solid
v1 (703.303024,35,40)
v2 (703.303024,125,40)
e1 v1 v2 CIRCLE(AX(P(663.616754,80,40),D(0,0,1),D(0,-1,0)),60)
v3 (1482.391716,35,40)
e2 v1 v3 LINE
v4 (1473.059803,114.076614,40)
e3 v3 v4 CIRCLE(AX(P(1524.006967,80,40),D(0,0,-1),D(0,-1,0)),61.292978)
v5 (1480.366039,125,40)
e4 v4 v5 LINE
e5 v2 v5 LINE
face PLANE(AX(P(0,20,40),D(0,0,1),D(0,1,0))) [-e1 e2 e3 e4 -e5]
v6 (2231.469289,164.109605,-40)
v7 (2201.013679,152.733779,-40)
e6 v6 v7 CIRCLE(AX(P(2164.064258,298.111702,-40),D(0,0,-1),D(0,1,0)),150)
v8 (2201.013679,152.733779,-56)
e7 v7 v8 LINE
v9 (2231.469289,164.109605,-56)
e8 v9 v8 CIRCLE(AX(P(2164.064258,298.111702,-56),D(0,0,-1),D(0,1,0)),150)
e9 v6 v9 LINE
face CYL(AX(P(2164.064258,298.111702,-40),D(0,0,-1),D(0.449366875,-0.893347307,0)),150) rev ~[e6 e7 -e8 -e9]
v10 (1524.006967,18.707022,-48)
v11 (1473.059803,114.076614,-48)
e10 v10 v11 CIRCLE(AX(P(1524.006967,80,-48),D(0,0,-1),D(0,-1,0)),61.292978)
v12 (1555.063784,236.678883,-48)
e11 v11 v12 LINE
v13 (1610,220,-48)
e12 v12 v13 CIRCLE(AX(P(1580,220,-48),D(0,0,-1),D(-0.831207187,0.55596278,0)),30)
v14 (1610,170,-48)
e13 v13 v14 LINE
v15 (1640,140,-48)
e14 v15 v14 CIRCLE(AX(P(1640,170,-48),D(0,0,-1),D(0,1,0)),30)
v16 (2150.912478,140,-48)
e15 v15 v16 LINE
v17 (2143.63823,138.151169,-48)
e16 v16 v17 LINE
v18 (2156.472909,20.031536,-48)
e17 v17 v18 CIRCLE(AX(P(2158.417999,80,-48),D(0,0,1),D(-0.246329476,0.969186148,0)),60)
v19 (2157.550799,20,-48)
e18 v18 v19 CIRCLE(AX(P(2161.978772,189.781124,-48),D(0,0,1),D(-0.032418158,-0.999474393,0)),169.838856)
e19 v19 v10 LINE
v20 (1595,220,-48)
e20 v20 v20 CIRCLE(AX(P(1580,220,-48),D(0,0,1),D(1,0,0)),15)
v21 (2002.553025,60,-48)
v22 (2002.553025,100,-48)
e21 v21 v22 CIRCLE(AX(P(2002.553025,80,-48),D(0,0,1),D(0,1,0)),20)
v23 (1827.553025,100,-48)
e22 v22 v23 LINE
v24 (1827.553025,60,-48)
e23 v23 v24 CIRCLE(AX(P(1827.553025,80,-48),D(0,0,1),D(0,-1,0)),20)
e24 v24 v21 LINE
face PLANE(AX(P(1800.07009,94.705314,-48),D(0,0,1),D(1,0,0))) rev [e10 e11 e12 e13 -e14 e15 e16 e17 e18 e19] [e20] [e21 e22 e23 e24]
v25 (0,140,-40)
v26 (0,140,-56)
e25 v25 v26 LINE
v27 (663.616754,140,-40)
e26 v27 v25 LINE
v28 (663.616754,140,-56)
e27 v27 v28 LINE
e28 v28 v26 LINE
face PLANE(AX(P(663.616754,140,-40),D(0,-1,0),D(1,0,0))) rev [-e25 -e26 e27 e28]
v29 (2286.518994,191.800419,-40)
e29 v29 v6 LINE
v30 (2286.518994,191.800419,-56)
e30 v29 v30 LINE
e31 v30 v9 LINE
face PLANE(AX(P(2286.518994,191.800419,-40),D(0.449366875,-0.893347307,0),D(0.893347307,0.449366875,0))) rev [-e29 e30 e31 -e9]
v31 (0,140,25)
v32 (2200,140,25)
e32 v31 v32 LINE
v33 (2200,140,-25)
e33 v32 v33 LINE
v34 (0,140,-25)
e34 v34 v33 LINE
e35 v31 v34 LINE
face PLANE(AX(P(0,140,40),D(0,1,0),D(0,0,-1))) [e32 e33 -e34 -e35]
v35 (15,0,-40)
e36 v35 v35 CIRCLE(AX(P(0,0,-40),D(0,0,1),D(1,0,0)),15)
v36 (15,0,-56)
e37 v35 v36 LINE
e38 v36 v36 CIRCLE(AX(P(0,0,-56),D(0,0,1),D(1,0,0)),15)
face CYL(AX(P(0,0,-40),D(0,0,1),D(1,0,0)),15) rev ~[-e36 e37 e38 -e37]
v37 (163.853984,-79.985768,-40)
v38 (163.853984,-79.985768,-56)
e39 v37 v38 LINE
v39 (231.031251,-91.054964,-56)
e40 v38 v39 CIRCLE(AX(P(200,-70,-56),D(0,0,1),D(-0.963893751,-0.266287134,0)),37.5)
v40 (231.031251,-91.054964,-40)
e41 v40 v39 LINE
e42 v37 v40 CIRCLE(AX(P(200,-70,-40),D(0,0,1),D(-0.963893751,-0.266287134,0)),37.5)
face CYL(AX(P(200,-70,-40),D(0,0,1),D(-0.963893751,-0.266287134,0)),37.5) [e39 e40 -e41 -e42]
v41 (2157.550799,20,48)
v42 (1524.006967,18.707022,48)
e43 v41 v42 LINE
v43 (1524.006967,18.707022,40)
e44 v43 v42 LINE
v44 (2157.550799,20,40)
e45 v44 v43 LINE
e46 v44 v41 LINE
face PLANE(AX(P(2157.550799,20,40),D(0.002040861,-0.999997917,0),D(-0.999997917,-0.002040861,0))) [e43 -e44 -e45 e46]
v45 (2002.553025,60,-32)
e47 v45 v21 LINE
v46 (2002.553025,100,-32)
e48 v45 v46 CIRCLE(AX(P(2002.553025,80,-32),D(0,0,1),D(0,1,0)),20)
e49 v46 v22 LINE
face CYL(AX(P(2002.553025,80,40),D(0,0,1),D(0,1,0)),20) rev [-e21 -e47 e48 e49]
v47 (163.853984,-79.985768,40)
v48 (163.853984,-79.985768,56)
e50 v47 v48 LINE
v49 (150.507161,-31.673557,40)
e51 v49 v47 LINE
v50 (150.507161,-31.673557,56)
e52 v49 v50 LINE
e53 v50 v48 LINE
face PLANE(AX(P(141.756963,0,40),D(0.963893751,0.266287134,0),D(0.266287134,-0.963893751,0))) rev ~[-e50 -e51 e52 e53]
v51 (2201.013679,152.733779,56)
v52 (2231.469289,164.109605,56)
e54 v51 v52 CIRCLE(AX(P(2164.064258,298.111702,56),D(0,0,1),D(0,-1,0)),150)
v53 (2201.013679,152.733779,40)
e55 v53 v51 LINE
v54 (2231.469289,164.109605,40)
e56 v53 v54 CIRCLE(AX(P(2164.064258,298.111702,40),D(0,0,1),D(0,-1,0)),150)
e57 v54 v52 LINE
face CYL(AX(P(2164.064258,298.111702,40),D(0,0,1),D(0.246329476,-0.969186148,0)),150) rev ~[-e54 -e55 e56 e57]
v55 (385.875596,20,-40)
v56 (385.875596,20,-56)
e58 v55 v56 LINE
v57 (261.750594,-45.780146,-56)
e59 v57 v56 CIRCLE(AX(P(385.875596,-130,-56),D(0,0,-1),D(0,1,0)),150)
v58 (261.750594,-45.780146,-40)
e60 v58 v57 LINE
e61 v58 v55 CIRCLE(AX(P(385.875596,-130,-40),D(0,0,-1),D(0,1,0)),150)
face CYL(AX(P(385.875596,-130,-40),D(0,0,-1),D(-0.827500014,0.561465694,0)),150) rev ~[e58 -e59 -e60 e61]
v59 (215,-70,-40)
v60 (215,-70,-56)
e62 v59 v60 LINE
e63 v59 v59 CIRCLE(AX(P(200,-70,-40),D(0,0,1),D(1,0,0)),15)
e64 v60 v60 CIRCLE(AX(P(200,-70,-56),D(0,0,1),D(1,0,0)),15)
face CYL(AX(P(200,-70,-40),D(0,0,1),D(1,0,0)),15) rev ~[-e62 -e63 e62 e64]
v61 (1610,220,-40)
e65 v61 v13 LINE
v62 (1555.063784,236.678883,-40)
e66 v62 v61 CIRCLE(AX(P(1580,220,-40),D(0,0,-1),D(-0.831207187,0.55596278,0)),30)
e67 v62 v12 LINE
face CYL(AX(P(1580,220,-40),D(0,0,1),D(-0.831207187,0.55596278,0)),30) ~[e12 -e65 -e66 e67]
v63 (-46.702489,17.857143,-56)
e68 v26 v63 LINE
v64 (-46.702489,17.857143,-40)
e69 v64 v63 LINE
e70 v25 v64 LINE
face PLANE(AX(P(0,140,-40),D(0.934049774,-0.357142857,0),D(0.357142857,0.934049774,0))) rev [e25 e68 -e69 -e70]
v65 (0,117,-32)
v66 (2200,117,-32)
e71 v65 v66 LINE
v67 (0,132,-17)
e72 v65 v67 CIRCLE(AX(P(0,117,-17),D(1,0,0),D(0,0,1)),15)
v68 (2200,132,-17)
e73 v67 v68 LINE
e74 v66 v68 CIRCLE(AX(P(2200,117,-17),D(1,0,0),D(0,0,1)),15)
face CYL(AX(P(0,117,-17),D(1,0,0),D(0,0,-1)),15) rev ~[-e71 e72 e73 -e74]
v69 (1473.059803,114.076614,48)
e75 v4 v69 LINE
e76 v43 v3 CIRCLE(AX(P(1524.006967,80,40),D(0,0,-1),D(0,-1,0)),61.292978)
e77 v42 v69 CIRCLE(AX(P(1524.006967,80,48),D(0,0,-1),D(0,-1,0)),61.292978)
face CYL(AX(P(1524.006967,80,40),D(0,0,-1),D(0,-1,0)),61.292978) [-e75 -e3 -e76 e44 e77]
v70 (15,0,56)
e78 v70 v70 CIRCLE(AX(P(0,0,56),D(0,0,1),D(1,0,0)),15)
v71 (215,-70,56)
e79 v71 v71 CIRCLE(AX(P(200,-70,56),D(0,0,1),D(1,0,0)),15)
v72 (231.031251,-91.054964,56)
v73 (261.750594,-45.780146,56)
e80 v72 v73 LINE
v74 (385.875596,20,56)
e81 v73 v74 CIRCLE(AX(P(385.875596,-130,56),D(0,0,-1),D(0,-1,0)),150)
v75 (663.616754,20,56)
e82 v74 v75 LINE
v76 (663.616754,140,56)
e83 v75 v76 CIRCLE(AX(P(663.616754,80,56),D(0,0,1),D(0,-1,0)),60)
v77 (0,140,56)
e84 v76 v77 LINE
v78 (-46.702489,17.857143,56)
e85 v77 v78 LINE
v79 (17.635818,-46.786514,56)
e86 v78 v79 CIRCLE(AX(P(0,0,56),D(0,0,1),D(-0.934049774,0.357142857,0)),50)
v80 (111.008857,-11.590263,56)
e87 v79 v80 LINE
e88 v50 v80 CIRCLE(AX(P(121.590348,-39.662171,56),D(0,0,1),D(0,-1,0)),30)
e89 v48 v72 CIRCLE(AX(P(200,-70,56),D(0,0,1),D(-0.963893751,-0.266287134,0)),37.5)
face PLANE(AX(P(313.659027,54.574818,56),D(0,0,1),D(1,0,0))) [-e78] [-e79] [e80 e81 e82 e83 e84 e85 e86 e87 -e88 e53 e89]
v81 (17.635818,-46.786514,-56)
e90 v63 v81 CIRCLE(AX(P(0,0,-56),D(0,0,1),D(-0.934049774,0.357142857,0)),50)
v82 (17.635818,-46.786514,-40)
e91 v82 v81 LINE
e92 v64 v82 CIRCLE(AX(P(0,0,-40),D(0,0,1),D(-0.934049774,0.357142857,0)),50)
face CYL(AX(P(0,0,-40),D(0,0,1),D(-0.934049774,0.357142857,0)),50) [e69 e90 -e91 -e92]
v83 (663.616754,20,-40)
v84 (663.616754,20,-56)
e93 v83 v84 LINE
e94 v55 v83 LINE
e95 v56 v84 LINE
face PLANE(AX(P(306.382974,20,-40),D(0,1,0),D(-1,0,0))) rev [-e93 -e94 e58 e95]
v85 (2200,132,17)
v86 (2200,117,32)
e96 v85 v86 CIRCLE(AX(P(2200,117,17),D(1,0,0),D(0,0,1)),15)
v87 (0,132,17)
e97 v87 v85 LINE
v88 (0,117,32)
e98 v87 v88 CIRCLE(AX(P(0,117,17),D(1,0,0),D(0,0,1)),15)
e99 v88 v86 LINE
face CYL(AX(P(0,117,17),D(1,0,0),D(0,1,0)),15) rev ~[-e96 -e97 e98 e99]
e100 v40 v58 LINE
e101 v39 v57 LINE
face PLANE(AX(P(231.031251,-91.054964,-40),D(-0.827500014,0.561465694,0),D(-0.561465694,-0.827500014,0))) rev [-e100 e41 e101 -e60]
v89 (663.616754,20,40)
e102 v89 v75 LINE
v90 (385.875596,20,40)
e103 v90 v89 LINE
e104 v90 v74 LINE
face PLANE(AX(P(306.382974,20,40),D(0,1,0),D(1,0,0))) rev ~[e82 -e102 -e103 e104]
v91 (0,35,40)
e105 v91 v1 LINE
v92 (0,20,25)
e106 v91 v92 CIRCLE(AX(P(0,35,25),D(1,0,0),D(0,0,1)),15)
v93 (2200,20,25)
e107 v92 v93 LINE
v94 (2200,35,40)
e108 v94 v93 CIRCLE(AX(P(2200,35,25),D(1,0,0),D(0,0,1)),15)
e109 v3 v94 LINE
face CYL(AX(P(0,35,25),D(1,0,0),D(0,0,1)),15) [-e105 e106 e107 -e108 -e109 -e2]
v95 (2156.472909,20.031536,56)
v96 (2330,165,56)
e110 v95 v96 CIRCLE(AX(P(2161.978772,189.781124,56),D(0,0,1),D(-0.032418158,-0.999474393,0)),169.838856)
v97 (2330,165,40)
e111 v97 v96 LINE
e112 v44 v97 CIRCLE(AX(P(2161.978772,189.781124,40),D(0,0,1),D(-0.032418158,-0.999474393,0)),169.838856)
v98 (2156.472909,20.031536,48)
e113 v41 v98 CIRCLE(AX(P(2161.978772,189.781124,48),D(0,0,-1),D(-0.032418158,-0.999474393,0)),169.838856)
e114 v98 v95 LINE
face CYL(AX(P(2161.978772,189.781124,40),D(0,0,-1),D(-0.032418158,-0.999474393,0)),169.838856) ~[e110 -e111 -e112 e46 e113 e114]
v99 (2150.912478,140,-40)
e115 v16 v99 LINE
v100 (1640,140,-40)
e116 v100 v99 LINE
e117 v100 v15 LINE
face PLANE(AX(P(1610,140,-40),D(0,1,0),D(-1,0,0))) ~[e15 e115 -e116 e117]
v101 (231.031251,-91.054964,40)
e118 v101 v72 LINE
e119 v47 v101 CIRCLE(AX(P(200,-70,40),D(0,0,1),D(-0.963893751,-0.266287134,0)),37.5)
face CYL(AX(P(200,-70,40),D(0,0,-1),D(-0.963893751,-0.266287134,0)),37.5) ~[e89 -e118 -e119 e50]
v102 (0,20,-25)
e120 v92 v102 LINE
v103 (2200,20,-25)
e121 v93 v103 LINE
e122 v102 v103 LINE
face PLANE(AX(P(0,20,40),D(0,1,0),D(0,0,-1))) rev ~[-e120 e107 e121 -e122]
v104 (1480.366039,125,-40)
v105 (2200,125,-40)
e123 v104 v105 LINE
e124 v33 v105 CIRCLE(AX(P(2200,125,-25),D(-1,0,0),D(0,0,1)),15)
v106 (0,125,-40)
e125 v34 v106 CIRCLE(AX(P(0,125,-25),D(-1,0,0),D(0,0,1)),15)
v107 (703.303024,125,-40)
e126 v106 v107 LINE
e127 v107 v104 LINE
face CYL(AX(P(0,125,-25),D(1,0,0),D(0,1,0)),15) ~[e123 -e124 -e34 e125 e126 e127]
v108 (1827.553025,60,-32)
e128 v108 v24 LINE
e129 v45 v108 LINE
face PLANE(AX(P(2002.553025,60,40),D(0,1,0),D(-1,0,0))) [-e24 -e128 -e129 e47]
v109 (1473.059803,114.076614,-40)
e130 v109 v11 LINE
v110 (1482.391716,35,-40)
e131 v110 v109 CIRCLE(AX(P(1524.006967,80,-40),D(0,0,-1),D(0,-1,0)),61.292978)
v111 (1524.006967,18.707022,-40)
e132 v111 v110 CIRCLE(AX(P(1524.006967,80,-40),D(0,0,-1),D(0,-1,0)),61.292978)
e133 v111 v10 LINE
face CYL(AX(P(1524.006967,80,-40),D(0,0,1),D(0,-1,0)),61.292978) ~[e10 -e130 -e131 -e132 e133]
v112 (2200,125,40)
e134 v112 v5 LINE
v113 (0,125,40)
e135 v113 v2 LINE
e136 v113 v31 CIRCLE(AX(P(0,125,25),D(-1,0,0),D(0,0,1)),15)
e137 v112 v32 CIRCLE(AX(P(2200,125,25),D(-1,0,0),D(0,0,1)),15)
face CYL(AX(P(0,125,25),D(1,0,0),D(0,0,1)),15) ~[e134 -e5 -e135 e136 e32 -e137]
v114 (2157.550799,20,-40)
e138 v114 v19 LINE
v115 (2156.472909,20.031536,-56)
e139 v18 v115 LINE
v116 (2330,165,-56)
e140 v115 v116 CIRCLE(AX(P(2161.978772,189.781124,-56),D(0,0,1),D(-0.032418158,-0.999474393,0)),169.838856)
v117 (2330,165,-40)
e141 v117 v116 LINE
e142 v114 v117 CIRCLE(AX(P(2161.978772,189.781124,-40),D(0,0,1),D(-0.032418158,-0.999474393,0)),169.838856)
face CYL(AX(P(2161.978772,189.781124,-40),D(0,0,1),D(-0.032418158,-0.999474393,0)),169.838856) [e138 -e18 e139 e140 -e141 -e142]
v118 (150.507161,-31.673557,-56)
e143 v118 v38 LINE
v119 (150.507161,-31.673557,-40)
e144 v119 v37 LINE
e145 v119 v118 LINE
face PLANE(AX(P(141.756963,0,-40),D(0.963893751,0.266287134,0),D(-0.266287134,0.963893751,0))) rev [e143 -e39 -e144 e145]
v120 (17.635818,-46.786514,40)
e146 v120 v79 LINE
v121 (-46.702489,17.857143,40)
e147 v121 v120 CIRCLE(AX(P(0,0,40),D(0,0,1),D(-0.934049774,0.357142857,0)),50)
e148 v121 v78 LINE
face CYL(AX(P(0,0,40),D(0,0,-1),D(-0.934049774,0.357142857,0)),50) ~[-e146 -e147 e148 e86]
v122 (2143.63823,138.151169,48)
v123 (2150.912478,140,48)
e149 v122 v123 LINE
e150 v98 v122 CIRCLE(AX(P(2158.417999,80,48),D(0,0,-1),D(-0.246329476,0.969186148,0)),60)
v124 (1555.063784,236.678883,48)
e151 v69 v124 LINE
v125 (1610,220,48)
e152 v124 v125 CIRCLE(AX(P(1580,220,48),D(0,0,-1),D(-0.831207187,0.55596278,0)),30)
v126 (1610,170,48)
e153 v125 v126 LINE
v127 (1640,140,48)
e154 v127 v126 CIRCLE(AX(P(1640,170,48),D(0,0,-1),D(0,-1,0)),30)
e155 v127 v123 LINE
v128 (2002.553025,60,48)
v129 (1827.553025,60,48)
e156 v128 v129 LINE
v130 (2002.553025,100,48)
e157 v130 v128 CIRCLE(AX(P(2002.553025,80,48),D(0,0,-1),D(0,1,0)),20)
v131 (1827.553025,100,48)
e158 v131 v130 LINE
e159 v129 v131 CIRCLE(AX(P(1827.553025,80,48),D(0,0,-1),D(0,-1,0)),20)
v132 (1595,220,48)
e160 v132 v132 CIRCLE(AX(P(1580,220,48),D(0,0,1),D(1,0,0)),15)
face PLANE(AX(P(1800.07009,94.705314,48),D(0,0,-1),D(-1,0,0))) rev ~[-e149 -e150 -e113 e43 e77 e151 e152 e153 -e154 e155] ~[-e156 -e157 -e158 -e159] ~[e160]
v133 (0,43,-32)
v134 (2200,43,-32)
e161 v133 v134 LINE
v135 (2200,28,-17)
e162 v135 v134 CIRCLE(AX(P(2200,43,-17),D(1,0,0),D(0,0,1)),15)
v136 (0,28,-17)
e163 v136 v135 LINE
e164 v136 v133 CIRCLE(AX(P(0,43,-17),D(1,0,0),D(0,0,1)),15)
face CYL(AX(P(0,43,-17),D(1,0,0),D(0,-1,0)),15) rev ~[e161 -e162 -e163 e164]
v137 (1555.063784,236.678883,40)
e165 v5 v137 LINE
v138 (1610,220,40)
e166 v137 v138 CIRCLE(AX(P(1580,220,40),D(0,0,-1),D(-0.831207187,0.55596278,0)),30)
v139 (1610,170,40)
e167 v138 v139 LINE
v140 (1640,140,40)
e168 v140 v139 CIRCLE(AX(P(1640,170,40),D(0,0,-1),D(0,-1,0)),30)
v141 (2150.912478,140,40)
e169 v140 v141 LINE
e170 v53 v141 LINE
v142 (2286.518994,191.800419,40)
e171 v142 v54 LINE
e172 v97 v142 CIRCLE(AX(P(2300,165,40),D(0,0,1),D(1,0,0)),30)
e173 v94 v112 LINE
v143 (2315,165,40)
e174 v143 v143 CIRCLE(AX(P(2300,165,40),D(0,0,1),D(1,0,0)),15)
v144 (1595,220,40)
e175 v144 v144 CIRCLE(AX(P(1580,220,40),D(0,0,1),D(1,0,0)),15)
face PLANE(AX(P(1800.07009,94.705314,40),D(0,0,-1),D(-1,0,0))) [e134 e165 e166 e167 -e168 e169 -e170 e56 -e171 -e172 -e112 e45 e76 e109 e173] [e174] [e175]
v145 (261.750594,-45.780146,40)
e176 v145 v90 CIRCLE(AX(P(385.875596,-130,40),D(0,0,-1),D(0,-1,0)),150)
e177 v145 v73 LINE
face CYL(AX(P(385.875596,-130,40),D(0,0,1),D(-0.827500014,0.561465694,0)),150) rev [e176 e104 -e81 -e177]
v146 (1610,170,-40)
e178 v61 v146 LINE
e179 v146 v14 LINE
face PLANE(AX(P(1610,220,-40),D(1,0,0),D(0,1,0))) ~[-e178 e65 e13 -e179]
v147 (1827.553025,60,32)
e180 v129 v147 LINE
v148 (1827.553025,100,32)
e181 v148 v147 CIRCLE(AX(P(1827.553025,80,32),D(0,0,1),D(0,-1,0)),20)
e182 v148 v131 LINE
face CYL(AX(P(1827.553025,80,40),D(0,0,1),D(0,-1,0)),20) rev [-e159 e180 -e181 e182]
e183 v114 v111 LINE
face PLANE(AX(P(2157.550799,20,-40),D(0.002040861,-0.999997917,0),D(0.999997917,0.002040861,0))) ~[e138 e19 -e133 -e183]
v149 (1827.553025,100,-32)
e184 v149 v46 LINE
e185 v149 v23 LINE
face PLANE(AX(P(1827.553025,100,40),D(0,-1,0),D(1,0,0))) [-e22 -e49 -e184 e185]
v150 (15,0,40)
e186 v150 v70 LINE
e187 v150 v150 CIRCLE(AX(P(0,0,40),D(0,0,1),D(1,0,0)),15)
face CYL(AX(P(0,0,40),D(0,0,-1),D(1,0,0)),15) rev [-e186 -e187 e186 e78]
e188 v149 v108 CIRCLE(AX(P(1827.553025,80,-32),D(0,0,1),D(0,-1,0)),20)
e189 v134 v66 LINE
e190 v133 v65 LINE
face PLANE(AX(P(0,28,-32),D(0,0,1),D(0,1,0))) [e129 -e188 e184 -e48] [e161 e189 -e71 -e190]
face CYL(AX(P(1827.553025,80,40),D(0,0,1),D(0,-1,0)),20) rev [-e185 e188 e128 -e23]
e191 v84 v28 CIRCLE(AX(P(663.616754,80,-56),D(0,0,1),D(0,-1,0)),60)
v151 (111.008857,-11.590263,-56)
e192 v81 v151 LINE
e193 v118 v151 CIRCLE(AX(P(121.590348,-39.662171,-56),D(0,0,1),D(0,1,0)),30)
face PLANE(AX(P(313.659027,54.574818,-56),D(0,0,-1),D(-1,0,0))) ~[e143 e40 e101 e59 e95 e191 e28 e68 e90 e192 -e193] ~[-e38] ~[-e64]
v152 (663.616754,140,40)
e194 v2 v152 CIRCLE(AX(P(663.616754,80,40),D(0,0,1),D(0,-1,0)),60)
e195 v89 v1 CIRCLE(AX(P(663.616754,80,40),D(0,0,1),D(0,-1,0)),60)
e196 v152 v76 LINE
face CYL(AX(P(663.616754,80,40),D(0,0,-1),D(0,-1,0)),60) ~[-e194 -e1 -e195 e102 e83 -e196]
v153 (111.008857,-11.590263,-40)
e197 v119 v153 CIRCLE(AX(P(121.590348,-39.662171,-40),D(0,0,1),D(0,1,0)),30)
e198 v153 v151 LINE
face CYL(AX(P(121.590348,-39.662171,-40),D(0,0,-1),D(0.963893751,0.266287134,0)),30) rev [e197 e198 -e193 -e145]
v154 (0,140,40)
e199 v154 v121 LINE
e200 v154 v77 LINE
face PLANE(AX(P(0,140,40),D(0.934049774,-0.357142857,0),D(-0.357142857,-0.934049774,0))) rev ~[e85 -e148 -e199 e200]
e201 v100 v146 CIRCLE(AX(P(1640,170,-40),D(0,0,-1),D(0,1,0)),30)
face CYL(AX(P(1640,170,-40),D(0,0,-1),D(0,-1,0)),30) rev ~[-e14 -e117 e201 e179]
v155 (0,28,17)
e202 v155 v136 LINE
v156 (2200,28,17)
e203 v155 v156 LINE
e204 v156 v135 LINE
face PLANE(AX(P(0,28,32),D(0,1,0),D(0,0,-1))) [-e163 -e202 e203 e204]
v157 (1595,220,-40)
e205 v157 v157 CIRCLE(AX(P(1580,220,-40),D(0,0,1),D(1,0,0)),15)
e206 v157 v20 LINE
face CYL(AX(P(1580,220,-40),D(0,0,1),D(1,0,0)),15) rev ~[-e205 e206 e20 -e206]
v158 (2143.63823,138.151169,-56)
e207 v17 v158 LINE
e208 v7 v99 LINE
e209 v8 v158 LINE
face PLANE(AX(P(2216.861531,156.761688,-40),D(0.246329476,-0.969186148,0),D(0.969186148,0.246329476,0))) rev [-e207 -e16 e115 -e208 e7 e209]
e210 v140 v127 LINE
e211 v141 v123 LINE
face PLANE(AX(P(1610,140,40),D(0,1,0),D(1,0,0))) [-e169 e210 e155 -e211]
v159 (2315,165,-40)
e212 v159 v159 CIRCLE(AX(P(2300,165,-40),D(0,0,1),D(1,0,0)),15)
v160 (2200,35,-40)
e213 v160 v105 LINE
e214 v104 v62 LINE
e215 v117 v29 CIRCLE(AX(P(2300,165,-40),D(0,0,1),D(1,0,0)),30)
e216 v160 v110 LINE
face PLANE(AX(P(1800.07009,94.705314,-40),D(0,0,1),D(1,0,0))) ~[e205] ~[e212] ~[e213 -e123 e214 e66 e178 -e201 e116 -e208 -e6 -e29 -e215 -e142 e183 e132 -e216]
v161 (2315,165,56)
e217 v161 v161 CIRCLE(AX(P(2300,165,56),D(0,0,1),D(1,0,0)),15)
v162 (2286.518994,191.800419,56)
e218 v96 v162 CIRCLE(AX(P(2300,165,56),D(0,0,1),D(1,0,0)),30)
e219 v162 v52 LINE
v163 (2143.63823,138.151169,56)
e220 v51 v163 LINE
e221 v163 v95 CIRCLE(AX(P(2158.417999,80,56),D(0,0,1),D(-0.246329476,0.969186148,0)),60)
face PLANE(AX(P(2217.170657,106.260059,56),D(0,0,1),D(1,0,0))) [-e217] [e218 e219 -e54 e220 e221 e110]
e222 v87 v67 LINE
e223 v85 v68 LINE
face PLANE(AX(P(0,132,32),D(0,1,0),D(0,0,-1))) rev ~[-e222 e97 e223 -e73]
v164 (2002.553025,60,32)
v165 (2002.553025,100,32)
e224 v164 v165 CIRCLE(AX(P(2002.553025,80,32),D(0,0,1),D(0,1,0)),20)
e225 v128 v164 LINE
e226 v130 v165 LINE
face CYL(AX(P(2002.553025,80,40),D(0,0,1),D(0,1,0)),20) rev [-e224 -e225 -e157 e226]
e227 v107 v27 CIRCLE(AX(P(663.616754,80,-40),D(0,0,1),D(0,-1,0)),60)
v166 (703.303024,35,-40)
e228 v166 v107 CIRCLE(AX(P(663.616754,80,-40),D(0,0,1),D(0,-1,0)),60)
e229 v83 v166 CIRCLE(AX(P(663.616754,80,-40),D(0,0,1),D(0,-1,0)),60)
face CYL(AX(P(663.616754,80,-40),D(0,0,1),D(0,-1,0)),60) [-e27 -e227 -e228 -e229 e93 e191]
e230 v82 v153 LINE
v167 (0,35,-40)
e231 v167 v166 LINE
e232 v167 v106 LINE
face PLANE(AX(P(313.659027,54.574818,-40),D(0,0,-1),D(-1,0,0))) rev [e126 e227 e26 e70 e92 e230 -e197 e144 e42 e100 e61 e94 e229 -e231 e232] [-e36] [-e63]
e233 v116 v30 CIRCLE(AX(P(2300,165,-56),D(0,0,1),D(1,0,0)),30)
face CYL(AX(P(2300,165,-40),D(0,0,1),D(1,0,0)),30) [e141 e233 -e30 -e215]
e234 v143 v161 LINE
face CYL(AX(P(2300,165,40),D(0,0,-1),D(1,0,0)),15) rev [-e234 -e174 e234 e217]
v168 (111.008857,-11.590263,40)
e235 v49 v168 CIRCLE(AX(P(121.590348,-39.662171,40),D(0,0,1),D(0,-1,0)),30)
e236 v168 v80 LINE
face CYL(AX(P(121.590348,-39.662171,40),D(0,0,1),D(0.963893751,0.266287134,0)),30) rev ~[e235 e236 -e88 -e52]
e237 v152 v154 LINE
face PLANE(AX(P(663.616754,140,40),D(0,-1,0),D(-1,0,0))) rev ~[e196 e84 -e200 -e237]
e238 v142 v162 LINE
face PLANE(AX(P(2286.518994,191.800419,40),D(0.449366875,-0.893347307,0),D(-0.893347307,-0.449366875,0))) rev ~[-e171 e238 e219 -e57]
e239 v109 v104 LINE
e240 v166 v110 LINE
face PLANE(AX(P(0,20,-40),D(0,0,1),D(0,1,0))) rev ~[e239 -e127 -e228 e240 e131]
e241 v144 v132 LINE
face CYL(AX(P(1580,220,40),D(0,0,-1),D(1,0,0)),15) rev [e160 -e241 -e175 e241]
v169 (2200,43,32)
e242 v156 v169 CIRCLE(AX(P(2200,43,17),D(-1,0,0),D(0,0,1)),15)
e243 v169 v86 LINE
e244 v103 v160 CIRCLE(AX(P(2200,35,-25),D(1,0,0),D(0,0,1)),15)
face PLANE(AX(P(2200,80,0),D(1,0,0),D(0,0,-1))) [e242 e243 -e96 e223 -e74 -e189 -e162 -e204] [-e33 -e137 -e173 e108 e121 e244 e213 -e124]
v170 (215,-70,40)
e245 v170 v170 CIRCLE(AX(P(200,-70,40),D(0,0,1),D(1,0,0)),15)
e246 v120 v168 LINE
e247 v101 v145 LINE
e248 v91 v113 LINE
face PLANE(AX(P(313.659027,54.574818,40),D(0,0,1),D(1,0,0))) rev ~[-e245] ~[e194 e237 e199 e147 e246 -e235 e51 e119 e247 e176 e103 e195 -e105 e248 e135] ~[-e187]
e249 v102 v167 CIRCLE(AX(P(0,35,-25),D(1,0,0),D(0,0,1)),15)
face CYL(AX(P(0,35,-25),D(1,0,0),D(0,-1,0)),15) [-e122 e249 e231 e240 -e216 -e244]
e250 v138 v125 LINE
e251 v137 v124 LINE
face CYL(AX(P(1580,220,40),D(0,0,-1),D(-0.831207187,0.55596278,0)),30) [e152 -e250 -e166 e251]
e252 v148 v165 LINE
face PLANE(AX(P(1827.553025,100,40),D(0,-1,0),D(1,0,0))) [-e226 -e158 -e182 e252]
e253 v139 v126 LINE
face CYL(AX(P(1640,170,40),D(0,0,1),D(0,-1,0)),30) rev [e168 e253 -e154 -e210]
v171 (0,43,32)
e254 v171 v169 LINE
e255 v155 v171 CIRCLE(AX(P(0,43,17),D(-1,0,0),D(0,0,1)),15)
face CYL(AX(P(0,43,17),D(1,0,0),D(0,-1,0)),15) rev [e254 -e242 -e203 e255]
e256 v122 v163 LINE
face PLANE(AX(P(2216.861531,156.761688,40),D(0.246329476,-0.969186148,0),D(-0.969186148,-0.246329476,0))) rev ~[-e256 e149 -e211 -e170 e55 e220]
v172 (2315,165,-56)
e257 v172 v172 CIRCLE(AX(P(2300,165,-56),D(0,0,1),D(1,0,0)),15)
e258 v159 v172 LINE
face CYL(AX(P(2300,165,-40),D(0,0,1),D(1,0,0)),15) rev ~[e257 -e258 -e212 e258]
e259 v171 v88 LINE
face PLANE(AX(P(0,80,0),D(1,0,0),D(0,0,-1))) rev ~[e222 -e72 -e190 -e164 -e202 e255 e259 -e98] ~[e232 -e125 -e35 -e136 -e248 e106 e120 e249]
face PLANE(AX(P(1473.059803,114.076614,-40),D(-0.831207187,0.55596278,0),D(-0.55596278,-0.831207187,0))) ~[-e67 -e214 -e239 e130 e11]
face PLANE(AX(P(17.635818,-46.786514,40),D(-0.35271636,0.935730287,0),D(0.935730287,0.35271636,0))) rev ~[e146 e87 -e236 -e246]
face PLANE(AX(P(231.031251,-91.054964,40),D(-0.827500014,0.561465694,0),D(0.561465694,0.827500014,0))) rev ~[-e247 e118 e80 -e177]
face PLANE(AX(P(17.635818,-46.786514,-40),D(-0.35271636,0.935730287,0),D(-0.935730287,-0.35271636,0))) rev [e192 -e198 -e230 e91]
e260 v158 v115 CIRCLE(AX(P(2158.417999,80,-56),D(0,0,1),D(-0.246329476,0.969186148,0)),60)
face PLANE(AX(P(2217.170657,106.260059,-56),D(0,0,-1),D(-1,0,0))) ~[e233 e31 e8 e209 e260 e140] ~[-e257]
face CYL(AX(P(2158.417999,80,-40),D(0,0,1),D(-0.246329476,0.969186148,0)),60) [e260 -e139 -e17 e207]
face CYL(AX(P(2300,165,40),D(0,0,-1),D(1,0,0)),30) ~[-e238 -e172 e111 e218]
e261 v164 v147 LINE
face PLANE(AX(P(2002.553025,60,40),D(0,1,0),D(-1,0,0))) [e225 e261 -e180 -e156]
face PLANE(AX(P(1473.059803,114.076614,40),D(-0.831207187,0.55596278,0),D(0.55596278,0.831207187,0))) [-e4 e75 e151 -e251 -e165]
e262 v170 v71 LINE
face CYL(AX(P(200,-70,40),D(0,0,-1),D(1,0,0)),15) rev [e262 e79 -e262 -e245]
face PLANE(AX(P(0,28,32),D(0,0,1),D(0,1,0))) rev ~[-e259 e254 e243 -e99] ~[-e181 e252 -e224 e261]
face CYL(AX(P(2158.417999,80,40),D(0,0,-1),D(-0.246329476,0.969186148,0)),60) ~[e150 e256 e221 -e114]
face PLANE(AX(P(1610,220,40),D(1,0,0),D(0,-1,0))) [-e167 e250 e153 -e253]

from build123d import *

# Parameters (mm, degrees)
SKETCH2_W               = 80
SKETCH2_H               = 120
SKETCH2_W_2             = 64
SKETCH2_H_2             = 104
BOSS_EXTRUDE1_DEPTH     = 2200
FILLET4_R               = 15
SKETCH4_R               = 15
BOSS_EXTRUDE2_DEPTH     = 16
FILLET1_R               = 30
FILLET2_R               = 150
FILLET1_OF_MIRROR1_R    = 30
FILLET2_OF_MIRROR1_R    = 150
SKETCH5_R               = 15
BOSS_EXTRUDE3_DEPTH     = 16
FILLET3_R               = 150
SKETCH9_R               = 15
BOSS_EXTRUDE4_DEPTH     = 8
FILLET5_R               = 30
FILLET3_OF_MIRROR5_R    = 150
FILLET5_OF_MIRROR5_R    = 30
CUT_EXTRUDE1_DEPTH      = 17
CUT_EXTRUDE1_DEPTH_BACK = 97


with BuildPart() as part:
    # Sketch2 → Boss-Extrude1 (new body)
    with BuildSketch(Plane(origin=(0, 0, 0), x_dir=(0, 0, -1), z_dir=(1, 0, 0))):
        with Locations((0, 80)):
            Rectangle(SKETCH2_W, SKETCH2_H)
        with Locations((0, 80)):
            Rectangle(SKETCH2_W_2, SKETCH2_H_2, mode=Mode.SUBTRACT)
    extrude(amount=BOSS_EXTRUDE1_DEPTH)

    # Fillet4
    fillet4_edges = [part.edges().sort_by_distance(p)[0] for p in [
        (1100, 132, 32),
        (1100, 28, 32),
        (1100, 28, -32),
        (1100, 132, -32),
        (1100, 20, -40),
        (1100, 20, 40),
        (1100, 140, 40),
        (1100, 140, -40),
    ]]
    fillet(fillet4_edges, radius=FILLET4_R)

    # Sketch4 → Boss-Extrude2 (add)
    with BuildSketch(Plane.XY.offset(40)):
        with BuildLine():
            Line((663.616754147, 140), (0, 140))
            Line((0, 140), (-46.702488681, 17.857142857))
            ThreePointArc((-46.702488681, 17.857142857), (-35.438939598, -35.271540371), (17.635818001, -46.786514333))
            Line((17.635818001, -46.786514333), (141.756963012, 0))
            Line((141.756963012, 0), (163.853984354, -79.985767518))
            ThreePointArc((163.853984354, -79.985767518), (193.903117134, -107.0010543), (231.031250542, -91.054963543))
            Line((231.031250542, -91.054963543), (306.382973978, 20))
            Line((306.382973978, 20), (663.616754147, 20))
            ThreePointArc((663.616754147, 20), (723.616754147, 80), (663.616754147, 140))
        make_face()
        Circle(SKETCH4_R, mode=Mode.SUBTRACT)
        with Locations((200, -70)):
            Circle(SKETCH4_R, mode=Mode.SUBTRACT)
    boss_extrude2 = extrude(amount=BOSS_EXTRUDE2_DEPTH)

    # Fillet1
    fillet1_edges = [part.edges().sort_by_distance(p)[0] for p in [
        (141.756963012, 0, 48),
    ]]
    fillet(fillet1_edges, radius=FILLET1_R)

    # Fillet2
    fillet2_edges = [part.edges().sort_by_distance(p)[0] for p in [
        (306.382973978, 20, 48),
    ]]
    fillet(fillet2_edges, radius=FILLET2_R)

    # Mirror1: Boss-Extrude2 across plane
    add(boss_extrude2.mirror(Plane(origin=(0, 0, 0), x_dir=(1, 0, 0), z_dir=(0, 0, -1))))

    # Fillet1 of Mirror1
    fillet1_of_mirror1_edges = [part.edges().sort_by_distance(p)[0] for p in [
        (141.756963012, 0, -48),
    ]]
    fillet(fillet1_of_mirror1_edges, radius=FILLET1_OF_MIRROR1_R)

    # Fillet2 of Mirror1
    fillet2_of_mirror1_edges = [part.edges().sort_by_distance(p)[0] for p in [
        (306.382973978, 20, -48),
    ]]
    fillet(fillet2_of_mirror1_edges, radius=FILLET2_OF_MIRROR1_R)



with BuildPart() as body_2:
    # Sketch5 → Boss-Extrude3 (new body)
    with BuildSketch(Plane.XY.offset(40)):
        with BuildLine():
            ThreePointArc((2156.472909481, 20.031536396), (2270.867590896, 59.441328796), (2330, 165))
            ThreePointArc((2330, 165), (2315.741185035, 190.538502182), (2286.518993754, 191.800419224))
            Line((2286.518993754, 191.800419224), (2216.86153125, 156.761687956))
            Line((2216.86153125, 156.761687956), (2143.638230406, 138.15116888))
            ThreePointArc((2143.638230406, 138.15116888), (2098.769091881, 73.518650853), (2156.472909481, 20.031536396))
        make_face()
        with Locations((2300, 165)):
            Circle(SKETCH5_R, mode=Mode.SUBTRACT)
    boss_extrude3 = extrude(amount=BOSS_EXTRUDE3_DEPTH)

    # Fillet3
    fillet3_edges = [body_2.edges().sort_by_distance(p)[0] for p in [
        (2216.86153125, 156.761687956, 48),
    ]]
    fillet(fillet3_edges, radius=FILLET3_R)


with BuildPart() as part_1:
    add(part.part)

    add(body_2.part)  # Boss-Extrude4 merges body 2
    # Sketch9 → Boss-Extrude4 (add)
    with BuildSketch(Plane.XY.offset(40)):
        with BuildLine():
            Line((1610, 140), (2157.550798688, 140))
            Line((2157.550798688, 140), (2157.550798688, 20))
            Line((2157.550798688, 20), (1524.006966774, 18.707022476))
            ThreePointArc((1524.006966774, 18.707022476), (1469.944566534, 51.119453365), (1473.059803349, 114.07661416))
            Line((1473.059803349, 114.07661416), (1555.063784392, 236.678883391))
            ThreePointArc((1555.063784392, 236.678883391), (1588.715317888, 248.706153245), (1610, 220))
            Line((1610, 220), (1610, 140))
        make_face()
        with Locations((1580, 220)):
            Circle(SKETCH9_R, mode=Mode.SUBTRACT)
    boss_extrude4 = extrude(amount=BOSS_EXTRUDE4_DEPTH)

    # Fillet5
    fillet5_edges = [part_1.edges().sort_by_distance(p)[0] for p in [
        (1610, 140, 44),
    ]]
    fillet(fillet5_edges, radius=FILLET5_R)

    # Mirror5: Boss-Extrude3, Boss-Extrude4 across plane
    add(boss_extrude3.mirror(Plane(origin=(0, 0, 0), x_dir=(1, 0, 0), z_dir=(0, 0, -1))))
    add(boss_extrude4.mirror(Plane(origin=(0, 0, 0), x_dir=(1, 0, 0), z_dir=(0, 0, -1))))

    # Fillet3 of Mirror5
    fillet3_of_mirror5_edges = [part_1.edges().sort_by_distance(p)[0] for p in [
        (2216.86153125, 156.761687956, -48),
    ]]
    fillet(fillet3_of_mirror5_edges, radius=FILLET3_OF_MIRROR5_R)

    # Fillet5 of Mirror5
    fillet5_of_mirror5_edges = [part_1.edges().sort_by_distance(p)[0] for p in [
        (1610, 140, -44),
    ]]
    fillet(fillet5_of_mirror5_edges, radius=FILLET5_OF_MIRROR5_R)

    # Sketch6 → Cut-Extrude1 (cut, two sides)
    with BuildSketch(Plane.XY.offset(40)) as cut_extrude1_sk:
        with BuildLine():
            Line((1827.553025368, 100), (2002.553025368, 100))
            ThreePointArc((2002.553025368, 100), (2022.553025368, 80), (2002.553025368, 60))
            Line((2002.553025368, 60), (1827.553025368, 60))
            ThreePointArc((1827.553025368, 60), (1807.553025368, 80), (1827.553025368, 100))
        make_face()
    extrude(amount=CUT_EXTRUDE1_DEPTH, mode=Mode.SUBTRACT)
    extrude(cut_extrude1_sk.sketch, amount=-CUT_EXTRUDE1_DEPTH_BACK, mode=Mode.SUBTRACT)


solid = part_1.part
